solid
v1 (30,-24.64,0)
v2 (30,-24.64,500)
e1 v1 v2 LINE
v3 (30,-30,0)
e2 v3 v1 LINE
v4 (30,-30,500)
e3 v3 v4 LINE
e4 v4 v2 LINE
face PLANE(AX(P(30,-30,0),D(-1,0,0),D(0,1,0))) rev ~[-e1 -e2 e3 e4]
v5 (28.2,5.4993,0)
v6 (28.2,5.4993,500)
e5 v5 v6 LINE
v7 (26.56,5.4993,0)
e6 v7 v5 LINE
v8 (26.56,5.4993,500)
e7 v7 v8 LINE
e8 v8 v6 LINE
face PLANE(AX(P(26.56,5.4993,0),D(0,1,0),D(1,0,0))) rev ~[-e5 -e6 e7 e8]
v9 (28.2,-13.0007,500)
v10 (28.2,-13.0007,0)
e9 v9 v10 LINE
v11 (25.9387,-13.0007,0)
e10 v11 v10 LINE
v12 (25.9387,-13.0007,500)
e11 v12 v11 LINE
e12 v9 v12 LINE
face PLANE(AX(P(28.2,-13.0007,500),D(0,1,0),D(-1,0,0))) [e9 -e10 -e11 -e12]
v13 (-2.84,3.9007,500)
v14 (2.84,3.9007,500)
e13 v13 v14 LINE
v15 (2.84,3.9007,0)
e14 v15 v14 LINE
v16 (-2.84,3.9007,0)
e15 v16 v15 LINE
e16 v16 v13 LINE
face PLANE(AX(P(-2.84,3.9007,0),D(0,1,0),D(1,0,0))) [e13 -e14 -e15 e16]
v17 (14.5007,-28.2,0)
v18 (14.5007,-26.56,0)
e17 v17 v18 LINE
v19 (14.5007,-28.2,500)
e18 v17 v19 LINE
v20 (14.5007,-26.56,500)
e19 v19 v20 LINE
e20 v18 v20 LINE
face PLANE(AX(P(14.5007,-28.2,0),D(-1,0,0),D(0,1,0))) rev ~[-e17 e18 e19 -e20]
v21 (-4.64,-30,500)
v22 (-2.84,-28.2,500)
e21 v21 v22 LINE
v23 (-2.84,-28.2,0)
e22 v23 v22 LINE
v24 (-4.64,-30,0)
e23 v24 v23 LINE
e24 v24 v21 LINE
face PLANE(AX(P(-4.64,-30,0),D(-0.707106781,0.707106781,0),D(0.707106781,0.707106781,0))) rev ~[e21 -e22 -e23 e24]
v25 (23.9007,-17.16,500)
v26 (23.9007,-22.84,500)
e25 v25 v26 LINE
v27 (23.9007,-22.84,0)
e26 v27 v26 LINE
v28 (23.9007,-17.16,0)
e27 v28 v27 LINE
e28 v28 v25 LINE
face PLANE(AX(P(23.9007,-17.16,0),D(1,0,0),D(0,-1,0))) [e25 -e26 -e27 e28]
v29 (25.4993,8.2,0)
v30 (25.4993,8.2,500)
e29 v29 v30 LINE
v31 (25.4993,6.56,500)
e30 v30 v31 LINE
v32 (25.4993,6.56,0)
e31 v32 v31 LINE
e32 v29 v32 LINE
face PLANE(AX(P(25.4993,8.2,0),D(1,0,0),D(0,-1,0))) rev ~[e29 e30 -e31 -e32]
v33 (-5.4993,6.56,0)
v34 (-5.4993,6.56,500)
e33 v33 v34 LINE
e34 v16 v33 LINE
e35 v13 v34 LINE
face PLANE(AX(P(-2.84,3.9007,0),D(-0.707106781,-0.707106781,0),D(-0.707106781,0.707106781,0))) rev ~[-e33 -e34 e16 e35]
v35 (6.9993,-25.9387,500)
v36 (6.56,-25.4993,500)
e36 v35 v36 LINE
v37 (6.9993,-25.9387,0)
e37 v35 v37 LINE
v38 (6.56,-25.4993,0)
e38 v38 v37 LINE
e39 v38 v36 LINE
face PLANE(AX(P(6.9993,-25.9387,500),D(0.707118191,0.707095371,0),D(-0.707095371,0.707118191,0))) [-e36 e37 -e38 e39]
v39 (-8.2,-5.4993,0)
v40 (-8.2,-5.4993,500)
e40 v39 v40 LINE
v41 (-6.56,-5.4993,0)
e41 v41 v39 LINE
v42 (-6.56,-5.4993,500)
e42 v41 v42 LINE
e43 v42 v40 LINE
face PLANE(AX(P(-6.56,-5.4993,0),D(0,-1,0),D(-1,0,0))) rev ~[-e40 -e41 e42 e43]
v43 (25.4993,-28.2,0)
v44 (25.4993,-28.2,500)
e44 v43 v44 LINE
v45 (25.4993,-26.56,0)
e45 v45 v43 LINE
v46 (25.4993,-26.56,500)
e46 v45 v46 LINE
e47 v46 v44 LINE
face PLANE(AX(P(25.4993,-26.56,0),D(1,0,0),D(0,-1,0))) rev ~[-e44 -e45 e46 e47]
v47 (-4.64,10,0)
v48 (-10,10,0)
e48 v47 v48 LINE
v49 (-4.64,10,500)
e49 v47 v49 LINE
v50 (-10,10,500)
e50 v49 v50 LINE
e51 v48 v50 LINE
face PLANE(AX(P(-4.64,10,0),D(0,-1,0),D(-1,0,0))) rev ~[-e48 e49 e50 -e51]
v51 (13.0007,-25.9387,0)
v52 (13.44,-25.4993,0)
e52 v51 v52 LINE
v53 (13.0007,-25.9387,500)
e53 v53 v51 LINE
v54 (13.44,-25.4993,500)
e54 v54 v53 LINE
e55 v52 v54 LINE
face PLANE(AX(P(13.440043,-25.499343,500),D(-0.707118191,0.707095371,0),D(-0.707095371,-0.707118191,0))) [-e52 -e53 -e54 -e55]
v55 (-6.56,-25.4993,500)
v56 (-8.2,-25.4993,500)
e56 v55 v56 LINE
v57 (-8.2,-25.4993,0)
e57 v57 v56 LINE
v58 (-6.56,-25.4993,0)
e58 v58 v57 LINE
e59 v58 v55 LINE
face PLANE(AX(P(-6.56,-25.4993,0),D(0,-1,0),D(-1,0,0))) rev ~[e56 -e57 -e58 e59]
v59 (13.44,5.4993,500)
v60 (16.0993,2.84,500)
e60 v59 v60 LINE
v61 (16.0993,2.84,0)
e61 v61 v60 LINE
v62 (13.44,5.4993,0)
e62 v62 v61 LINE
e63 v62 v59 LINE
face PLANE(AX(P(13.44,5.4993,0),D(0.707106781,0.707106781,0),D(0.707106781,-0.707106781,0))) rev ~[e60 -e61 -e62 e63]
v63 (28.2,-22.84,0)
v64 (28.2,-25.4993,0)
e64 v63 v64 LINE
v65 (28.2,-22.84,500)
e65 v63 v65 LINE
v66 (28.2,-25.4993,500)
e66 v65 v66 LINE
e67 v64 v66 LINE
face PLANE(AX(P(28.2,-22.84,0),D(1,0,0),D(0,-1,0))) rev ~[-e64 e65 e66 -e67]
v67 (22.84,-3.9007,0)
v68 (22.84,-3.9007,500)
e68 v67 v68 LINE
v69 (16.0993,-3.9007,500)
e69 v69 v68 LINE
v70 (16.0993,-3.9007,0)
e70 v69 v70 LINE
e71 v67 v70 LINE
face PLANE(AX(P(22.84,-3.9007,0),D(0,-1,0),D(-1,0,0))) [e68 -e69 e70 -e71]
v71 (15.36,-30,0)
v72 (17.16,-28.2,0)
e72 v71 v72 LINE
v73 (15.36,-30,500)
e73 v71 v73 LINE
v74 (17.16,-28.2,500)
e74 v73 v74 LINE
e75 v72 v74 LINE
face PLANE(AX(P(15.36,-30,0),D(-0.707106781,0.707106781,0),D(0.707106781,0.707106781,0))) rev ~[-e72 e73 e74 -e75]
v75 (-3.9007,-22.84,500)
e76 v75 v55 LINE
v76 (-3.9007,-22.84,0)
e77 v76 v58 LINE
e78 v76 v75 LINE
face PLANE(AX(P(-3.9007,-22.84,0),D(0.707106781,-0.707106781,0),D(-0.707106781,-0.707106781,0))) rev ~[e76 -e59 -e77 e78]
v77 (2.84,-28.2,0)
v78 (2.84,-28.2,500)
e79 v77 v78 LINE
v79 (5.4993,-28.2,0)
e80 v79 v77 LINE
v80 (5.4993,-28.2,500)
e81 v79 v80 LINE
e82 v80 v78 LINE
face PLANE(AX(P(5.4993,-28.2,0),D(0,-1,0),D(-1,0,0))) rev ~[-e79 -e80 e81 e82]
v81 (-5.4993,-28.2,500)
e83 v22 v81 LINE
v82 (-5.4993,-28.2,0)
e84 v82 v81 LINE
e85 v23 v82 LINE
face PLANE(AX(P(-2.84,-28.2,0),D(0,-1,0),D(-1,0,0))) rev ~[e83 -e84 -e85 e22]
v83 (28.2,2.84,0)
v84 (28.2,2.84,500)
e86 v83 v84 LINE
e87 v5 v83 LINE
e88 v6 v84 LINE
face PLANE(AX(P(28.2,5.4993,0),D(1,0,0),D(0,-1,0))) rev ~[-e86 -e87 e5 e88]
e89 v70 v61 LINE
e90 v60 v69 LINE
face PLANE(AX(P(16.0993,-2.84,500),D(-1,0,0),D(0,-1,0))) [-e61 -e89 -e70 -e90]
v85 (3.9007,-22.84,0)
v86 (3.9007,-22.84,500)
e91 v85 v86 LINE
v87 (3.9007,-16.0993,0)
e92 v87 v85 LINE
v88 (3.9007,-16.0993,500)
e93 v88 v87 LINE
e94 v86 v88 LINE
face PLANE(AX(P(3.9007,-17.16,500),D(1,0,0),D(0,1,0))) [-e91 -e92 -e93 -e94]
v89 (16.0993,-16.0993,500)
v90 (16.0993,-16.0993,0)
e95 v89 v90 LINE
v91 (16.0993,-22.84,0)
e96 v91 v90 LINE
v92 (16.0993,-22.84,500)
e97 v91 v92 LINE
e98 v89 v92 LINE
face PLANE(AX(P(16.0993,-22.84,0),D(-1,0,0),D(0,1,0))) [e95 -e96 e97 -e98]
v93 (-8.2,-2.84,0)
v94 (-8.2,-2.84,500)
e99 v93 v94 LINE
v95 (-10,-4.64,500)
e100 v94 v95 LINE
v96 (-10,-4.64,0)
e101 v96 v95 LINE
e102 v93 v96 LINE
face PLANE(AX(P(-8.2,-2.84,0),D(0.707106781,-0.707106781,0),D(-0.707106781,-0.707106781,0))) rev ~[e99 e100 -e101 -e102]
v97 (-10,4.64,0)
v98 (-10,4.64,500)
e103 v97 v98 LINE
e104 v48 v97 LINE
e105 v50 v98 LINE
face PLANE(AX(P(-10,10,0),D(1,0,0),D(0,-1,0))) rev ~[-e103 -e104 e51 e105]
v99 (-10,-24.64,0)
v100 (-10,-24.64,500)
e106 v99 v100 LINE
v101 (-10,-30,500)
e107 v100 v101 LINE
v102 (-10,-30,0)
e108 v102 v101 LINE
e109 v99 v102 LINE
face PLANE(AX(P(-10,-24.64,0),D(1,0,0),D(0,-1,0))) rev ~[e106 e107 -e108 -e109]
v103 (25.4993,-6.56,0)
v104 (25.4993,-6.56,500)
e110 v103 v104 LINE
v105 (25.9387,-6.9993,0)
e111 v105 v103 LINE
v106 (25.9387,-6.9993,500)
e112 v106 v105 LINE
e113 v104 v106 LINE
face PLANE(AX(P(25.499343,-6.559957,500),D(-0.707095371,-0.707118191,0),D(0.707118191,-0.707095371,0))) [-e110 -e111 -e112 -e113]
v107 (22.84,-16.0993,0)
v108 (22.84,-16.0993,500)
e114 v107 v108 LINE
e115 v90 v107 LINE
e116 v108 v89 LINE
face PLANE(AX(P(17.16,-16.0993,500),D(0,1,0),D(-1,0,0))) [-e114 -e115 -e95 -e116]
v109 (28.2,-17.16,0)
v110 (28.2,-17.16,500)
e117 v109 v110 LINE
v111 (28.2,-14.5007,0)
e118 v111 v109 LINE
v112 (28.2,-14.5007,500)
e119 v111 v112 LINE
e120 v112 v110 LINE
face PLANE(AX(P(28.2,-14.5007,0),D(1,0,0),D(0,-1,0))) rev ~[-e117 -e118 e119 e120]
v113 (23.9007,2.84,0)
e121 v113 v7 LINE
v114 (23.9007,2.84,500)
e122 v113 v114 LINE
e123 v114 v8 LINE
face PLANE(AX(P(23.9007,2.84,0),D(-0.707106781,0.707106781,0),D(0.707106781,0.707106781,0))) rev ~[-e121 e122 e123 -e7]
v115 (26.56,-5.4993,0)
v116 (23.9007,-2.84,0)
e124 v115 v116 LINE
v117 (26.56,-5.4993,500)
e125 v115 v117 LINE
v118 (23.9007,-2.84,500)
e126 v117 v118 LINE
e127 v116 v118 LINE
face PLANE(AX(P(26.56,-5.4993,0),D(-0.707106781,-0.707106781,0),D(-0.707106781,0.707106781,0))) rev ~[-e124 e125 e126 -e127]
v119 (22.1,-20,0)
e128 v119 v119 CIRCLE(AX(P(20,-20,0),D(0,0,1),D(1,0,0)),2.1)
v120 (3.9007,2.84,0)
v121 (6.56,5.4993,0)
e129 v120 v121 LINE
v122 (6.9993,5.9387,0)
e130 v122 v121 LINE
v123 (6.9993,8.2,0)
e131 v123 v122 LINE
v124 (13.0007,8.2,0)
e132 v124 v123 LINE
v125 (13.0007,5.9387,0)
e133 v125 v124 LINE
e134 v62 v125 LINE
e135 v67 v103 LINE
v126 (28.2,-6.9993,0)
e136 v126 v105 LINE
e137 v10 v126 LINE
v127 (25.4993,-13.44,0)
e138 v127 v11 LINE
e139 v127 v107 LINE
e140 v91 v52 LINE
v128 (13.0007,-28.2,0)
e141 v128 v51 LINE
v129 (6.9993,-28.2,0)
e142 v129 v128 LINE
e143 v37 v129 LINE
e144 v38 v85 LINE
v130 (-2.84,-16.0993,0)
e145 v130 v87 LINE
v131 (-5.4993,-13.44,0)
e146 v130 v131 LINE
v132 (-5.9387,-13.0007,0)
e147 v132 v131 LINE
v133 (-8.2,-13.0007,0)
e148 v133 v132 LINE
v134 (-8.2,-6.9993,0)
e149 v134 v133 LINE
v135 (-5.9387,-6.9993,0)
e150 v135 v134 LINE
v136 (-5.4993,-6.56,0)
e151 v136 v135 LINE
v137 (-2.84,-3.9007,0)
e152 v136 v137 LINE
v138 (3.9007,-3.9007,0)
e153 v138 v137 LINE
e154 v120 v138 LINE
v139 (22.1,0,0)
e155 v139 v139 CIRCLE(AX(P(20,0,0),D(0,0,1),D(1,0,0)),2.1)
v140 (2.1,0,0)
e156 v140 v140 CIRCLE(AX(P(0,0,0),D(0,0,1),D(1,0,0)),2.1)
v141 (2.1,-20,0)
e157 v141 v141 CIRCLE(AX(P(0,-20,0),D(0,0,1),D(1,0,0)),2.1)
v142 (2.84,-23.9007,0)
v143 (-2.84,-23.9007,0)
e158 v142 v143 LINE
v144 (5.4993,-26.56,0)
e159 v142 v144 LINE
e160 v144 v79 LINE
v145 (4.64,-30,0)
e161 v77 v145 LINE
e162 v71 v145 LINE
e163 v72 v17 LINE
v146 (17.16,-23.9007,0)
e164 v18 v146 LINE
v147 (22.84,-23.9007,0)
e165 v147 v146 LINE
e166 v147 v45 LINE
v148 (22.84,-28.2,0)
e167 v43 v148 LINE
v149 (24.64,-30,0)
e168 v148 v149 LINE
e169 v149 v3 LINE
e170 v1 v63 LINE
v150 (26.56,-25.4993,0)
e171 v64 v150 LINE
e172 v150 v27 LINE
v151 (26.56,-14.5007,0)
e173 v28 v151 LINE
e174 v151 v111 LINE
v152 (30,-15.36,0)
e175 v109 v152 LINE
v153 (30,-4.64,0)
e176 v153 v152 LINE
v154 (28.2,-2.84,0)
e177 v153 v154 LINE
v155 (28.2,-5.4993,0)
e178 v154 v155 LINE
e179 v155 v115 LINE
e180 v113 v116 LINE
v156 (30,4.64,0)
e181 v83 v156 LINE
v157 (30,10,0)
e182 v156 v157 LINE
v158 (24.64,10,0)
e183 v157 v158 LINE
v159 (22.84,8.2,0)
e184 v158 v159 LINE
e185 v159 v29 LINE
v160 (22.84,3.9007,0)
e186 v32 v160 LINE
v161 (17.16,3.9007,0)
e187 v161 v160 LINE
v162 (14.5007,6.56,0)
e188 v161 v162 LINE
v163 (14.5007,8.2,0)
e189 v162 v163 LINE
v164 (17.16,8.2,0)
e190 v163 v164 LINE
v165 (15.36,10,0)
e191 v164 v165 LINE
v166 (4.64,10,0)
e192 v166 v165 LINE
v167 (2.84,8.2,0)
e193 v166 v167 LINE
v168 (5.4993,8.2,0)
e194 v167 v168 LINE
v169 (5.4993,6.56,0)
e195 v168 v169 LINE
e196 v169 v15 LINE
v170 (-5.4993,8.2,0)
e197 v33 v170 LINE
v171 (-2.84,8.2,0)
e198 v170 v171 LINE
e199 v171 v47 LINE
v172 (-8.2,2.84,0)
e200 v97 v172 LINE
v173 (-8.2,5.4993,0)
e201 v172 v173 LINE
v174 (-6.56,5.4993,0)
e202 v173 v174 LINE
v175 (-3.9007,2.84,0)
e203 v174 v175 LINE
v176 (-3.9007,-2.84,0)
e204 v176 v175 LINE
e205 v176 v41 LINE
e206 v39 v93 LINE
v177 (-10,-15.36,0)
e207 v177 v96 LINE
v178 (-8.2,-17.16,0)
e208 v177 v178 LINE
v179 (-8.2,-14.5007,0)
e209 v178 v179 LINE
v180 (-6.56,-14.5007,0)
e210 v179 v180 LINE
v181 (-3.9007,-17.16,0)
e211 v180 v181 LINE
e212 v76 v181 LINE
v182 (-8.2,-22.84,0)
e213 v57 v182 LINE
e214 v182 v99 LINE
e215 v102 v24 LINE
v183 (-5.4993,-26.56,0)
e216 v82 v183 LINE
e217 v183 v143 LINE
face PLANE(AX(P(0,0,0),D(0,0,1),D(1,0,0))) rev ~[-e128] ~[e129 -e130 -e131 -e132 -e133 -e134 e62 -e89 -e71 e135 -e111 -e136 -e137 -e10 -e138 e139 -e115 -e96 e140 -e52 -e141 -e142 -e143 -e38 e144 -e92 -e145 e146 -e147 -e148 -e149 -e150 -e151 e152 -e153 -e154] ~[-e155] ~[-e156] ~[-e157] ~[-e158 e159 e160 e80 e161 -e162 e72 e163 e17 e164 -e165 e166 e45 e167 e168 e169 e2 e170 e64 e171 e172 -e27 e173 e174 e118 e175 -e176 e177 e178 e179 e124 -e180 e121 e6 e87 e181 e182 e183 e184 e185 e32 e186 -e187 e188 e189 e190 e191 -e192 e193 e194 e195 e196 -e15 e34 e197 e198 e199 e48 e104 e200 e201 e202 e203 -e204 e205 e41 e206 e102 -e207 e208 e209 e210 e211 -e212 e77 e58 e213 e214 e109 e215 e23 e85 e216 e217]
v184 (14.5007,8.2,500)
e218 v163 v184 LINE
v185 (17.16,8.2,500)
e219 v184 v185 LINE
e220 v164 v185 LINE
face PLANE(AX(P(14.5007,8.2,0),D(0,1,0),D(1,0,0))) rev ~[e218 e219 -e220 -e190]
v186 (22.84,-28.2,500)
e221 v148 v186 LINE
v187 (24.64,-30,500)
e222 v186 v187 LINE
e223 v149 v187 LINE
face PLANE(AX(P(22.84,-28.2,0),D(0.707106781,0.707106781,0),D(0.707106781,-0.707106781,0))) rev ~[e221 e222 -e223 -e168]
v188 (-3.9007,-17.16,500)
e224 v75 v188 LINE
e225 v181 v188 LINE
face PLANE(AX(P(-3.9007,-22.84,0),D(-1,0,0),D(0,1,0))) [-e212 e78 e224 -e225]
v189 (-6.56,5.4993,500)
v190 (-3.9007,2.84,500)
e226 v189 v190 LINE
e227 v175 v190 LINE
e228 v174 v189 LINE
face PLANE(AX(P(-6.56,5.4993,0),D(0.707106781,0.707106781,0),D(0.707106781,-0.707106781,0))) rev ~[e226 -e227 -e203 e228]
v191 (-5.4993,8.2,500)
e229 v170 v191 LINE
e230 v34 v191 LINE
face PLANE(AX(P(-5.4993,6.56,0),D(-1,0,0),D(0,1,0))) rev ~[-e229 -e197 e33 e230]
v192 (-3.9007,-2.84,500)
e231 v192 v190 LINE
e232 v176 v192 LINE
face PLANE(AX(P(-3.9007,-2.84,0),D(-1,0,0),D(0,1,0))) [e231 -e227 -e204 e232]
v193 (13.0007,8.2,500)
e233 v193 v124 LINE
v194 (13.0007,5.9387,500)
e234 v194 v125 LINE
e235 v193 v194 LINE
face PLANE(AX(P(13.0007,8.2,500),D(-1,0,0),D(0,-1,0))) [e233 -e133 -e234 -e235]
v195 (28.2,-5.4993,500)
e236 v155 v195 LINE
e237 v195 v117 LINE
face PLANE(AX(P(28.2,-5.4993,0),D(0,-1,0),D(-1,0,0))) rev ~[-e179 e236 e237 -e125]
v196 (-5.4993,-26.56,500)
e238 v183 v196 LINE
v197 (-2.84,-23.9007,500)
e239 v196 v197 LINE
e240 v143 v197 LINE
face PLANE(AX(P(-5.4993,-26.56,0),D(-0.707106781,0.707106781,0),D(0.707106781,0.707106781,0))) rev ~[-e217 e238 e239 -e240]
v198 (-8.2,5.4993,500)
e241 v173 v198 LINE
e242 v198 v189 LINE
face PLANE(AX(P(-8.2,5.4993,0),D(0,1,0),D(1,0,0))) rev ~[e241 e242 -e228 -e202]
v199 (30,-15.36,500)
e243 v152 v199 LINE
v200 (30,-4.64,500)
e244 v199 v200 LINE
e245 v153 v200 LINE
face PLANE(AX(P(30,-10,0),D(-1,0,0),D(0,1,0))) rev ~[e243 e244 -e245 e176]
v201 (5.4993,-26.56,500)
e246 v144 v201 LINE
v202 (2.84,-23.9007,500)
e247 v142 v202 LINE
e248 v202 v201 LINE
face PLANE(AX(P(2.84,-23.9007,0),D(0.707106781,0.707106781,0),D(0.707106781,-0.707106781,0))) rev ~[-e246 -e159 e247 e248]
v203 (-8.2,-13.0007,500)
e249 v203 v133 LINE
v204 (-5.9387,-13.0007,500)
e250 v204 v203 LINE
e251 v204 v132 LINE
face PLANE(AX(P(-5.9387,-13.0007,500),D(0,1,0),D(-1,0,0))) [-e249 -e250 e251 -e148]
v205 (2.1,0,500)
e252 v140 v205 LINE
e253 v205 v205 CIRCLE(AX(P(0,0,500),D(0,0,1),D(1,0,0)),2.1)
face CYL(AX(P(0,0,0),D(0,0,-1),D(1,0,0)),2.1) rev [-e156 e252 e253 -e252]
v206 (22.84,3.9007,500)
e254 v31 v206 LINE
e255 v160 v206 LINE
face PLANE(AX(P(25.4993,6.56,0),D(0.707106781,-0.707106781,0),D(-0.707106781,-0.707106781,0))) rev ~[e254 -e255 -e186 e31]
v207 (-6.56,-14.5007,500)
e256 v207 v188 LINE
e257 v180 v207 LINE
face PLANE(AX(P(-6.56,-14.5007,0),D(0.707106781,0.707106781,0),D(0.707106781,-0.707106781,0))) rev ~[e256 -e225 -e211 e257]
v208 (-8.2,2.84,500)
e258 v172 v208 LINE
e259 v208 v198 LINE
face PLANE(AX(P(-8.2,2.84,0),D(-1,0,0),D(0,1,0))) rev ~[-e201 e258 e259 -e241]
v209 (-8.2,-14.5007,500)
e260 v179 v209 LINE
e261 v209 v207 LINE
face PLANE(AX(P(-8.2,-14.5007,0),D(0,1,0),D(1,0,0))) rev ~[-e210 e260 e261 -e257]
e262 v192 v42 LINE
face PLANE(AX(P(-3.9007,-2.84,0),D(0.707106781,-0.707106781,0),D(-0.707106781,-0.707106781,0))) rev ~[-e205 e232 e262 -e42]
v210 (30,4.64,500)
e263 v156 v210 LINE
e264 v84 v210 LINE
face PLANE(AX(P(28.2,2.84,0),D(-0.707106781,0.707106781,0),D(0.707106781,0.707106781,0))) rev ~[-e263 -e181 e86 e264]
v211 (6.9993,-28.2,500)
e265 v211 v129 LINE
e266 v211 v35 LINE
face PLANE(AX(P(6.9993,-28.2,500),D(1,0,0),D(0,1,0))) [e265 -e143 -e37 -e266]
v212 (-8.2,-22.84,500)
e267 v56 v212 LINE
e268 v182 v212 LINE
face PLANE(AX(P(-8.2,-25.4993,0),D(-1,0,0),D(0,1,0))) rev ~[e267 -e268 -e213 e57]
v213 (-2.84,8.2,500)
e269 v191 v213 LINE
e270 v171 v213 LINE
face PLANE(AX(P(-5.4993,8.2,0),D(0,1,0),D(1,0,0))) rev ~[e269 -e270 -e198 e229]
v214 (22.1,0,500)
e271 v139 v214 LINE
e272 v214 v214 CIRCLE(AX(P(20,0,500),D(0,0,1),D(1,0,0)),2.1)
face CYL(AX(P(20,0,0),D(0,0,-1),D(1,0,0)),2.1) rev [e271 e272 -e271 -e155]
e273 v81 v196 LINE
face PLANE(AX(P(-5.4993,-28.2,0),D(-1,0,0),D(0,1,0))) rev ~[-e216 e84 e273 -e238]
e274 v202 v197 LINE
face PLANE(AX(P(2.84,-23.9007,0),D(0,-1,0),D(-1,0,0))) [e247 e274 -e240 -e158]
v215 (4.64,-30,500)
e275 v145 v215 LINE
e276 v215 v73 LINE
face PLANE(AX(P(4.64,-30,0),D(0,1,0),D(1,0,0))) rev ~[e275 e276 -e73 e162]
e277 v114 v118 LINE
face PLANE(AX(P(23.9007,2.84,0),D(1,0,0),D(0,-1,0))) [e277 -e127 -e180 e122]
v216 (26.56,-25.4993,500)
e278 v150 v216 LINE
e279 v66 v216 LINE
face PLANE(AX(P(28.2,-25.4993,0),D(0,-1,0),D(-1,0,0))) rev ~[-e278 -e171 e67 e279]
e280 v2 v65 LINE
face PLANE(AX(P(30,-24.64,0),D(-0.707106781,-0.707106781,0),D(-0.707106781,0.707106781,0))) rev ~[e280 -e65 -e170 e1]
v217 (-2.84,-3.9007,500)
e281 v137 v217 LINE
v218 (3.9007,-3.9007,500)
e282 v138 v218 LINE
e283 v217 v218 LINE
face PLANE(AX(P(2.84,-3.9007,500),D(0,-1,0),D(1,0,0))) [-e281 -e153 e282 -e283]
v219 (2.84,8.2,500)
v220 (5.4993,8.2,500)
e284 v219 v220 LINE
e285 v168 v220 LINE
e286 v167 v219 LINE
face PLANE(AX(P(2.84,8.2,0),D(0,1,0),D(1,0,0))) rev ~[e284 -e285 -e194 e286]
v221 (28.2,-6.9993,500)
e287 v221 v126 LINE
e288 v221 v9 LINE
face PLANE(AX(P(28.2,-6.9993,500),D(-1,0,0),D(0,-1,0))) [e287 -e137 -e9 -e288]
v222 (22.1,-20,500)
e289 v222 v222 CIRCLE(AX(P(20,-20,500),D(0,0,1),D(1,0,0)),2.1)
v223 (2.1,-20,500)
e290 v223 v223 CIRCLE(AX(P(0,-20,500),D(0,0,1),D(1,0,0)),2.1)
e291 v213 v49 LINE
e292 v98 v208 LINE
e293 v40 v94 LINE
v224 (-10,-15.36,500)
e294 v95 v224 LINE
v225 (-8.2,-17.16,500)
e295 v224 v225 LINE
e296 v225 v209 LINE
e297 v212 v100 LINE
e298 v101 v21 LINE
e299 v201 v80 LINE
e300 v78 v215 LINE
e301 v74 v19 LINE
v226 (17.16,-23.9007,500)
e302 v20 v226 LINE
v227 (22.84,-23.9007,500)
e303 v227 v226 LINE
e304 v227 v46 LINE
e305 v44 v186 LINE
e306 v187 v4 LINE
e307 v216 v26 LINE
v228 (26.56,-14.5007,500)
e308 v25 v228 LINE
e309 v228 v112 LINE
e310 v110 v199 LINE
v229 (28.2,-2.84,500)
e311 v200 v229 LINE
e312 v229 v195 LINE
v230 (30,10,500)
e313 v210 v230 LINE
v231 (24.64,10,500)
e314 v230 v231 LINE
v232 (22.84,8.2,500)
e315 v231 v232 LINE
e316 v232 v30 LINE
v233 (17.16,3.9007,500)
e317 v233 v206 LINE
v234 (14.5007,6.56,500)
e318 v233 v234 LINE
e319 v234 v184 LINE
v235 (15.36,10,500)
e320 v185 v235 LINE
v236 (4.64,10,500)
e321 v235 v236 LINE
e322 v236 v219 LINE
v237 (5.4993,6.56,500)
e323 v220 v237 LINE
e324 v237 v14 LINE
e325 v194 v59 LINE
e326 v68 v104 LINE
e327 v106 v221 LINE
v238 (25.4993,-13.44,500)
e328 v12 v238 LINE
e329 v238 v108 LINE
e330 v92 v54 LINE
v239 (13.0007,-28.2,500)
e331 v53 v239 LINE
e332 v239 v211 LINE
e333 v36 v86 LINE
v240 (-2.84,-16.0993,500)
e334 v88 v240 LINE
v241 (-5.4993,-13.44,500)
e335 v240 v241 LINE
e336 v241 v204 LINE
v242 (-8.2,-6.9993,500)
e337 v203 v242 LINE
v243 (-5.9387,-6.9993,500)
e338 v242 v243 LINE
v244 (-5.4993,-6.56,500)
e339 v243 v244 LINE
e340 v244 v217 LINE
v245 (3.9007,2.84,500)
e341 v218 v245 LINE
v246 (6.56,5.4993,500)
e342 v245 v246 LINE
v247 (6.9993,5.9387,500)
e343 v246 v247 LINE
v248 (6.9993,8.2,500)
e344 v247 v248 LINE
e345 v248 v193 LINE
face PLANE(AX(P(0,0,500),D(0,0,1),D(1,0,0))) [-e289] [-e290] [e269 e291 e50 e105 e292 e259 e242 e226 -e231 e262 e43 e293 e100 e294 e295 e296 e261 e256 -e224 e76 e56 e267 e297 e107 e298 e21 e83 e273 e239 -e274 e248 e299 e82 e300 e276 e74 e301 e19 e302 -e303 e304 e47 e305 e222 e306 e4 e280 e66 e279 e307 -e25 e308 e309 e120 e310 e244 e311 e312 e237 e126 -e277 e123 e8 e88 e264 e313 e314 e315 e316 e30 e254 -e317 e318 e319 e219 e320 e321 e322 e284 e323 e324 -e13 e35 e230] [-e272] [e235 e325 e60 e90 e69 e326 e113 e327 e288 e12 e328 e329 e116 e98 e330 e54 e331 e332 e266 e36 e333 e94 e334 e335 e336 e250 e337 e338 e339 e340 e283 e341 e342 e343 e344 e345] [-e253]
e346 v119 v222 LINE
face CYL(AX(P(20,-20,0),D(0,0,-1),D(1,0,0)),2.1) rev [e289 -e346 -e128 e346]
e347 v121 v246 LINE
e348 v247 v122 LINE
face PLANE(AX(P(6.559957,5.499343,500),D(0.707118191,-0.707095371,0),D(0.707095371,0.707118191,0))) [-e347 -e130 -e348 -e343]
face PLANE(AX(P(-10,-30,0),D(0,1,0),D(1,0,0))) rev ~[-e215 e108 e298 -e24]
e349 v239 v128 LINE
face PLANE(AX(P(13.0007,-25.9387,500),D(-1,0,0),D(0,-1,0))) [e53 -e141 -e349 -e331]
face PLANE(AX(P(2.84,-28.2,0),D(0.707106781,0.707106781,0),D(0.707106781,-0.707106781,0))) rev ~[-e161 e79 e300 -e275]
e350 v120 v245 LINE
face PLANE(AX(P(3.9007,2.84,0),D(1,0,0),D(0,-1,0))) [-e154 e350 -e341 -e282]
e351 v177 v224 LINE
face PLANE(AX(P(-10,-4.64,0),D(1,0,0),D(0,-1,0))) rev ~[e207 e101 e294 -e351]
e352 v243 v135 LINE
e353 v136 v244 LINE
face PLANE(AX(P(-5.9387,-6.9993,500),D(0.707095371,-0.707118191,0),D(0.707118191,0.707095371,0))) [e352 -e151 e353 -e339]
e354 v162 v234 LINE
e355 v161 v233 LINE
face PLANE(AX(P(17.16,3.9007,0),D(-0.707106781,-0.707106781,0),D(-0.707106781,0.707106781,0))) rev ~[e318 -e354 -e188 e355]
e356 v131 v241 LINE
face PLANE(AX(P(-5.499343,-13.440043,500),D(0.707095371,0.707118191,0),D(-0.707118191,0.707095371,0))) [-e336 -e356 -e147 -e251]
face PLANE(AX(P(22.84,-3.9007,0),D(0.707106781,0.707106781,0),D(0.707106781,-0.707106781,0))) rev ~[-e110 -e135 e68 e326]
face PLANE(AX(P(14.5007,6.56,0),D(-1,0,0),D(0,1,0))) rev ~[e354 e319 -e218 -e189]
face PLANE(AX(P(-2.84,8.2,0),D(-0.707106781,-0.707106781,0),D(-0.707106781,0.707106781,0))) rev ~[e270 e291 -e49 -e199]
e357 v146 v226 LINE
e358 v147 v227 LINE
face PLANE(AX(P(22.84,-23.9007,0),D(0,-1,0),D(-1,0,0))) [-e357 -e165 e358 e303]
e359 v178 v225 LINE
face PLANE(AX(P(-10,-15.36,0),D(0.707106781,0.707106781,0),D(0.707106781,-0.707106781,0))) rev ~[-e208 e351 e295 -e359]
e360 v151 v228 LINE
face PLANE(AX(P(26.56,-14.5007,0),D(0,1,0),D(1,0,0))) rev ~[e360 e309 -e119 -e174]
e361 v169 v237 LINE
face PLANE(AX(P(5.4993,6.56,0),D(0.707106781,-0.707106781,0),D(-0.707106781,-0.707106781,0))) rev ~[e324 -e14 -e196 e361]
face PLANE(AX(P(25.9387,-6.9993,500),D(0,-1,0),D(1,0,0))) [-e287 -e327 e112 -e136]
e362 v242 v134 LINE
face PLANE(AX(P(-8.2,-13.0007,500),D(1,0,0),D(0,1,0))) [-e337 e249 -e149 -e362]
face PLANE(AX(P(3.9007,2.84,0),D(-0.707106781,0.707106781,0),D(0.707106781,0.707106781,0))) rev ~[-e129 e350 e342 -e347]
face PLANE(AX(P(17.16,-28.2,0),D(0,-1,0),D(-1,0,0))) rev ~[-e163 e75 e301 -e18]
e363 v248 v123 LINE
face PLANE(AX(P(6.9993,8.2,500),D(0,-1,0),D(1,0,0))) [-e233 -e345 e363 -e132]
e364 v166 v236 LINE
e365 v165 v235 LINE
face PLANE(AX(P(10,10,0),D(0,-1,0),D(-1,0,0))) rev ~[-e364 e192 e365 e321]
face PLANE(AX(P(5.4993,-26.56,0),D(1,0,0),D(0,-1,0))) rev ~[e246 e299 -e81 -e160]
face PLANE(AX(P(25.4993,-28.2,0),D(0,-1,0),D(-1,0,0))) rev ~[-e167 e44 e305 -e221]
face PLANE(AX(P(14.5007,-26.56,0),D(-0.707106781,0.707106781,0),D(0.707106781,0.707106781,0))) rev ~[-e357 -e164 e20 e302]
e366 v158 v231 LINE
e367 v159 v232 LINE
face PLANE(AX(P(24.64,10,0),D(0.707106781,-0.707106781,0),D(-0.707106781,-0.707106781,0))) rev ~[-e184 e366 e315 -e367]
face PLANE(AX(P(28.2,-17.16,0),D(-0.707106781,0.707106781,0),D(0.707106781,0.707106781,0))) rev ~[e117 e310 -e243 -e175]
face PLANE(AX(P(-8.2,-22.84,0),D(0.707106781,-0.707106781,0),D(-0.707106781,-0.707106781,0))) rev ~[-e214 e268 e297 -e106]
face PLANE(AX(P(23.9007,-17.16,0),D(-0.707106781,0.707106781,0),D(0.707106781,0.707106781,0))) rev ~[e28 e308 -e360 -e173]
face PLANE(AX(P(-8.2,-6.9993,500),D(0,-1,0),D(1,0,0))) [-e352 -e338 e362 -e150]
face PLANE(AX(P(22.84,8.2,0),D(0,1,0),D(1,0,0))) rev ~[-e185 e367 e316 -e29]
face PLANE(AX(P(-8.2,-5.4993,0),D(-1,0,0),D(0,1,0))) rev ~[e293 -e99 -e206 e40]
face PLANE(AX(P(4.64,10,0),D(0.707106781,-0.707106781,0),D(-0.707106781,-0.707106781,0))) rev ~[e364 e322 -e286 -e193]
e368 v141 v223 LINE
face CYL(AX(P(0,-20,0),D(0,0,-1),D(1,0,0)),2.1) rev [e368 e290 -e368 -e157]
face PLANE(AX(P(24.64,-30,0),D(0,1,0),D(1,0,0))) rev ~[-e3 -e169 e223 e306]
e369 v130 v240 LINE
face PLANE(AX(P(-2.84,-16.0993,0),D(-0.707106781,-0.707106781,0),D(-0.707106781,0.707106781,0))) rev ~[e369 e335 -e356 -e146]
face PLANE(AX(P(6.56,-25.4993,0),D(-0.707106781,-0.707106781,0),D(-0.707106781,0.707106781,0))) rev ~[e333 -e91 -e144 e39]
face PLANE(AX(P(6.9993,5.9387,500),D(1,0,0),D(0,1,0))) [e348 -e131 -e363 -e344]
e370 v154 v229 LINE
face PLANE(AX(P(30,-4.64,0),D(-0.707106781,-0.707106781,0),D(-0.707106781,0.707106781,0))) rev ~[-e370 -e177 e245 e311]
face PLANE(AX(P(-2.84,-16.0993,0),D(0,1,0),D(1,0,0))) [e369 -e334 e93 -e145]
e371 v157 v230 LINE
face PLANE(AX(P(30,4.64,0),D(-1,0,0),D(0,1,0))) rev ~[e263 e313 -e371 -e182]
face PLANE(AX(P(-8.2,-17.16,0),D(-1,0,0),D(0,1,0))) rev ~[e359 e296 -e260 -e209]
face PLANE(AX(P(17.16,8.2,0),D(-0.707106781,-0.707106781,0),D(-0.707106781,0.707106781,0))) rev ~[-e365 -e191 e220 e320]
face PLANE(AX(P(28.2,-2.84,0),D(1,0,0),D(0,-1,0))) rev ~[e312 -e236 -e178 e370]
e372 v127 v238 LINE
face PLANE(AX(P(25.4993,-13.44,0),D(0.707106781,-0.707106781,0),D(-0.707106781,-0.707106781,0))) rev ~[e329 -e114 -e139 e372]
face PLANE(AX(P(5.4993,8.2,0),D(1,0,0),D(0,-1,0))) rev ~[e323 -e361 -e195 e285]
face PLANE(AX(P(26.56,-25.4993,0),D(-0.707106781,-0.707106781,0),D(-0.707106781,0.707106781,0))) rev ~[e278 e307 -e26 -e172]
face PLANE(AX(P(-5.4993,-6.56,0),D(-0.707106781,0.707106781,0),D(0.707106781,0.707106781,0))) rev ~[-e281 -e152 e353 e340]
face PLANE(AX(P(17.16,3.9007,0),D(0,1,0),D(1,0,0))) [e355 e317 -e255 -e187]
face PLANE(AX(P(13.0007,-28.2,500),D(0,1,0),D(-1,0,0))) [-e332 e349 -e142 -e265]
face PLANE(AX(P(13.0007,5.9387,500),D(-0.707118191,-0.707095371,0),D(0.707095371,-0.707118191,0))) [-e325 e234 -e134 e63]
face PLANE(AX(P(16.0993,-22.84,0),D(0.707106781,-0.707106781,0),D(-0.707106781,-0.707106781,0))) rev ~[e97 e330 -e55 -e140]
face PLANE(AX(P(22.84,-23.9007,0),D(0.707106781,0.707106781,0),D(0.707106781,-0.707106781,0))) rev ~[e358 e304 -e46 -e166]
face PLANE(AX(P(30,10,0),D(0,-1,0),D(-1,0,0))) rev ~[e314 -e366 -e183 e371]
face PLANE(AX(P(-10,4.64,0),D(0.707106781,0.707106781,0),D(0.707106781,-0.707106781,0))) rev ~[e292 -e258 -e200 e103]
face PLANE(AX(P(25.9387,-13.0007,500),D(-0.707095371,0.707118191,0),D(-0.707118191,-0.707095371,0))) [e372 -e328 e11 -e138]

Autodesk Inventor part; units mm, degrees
ref_plane "YZ Plane" through (0, 0, 0) normal (1, 0, 0) x (0, 1, 0)
ref_plane "XZ Plane" through (0, 0, 0) normal (0, 1, 0) x (-1, 0, 0)
ref_plane "XY Plane" through (0, 0, 0) normal (0, 0, 1) x (1, 0, 0)
sketch "Sketch1" plane through (0, 0, 0) normal (0, 0, 1) x (1, 0, 0)
  line L0 (-3.9007, 3.9007) -> (3.9007, 3.9007)
  line L1 (3.9007, 3.9007) -> (3.9007, -3.9007)
  line L2 (3.9007, -3.9007) -> (-3.9007, -3.9007)
  line L3 (-3.9007, -3.9007) -> (-3.9007, 3.9007)
  line L4 (0, 3.9007) -> (0, -3.9007) construction
  line L5 (-3.9007, 0) -> (3.9007, 0) construction
  circle A0 centre (0, 0) radius 2.1
  line L6 (0, 0) -> (-16.1173, 16.1173) construction
  line L7 (0, 0) -> (22.7933, 0) construction
  line L8 (-2.84, 3.9007) -> (-5.4993, 6.56)
  line L9 (-5.4993, 6.56) -> (-5.4993, 8.2)
  line L10 (-5.4993, 8.2) -> (-2.84, 8.2)
  line L11 (-2.84, 8.2) -> (-4.64, 10)
  line L12 (-4.64, 10) -> (-10, 10)
  line L13 (-10, 10) -> (-10, 4.64)
  line L14 (-10, 4.64) -> (-8.2, 2.84)
  line L15 (-8.2, 2.84) -> (-8.2, 5.4993)
  line L16 (-8.2, 5.4993) -> (-6.56, 5.4993)
  line L17 (-6.56, 5.4993) -> (-3.9007, 2.84)
  line L18 (-3.9007, 2.84) -> (-11.3102, 2.84) construction
  line L19 (-2.84, 3.9007) -> (-3.9007, 3.9007)
  line L20 (-3.9007, 2.84) -> (-3.9007, 3.9007)
  line L21 (-3.9007, -2.84) -> (-6.56, -5.4993)
  line L22 (-6.56, -5.4993) -> (-8.2, -5.4993)
  line L23 (-8.2, -5.4993) -> (-8.2, -2.84)
  line L24 (-8.2, -2.84) -> (-10, -4.64)
  line L25 (-10, -4.64) -> (-10, -10)
  line L26 (-10, -10) -> (-4.64, -10)
  line L27 (-4.64, -10) -> (-2.84, -8.2)
  line L28 (-2.84, -8.2) -> (-5.4993, -8.2)
  line L29 (-5.4993, -8.2) -> (-5.4993, -6.56)
  line L30 (-5.4993, -6.56) -> (-2.84, -3.9007)
  line L31 (-3.9007, -2.84) -> (-3.9007, -3.9007)
  line L32 (-2.84, -3.9007) -> (-3.9007, -3.9007)
  line L33 (2.84, -3.9007) -> (5.4993, -6.56)
  line L34 (5.4993, -6.56) -> (5.4993, -8.2)
  line L35 (5.4993, -8.2) -> (2.84, -8.2)
  line L36 (2.84, -8.2) -> (4.64, -10)
  line L37 (4.64, -10) -> (10, -10)
  line L38 (10, -10) -> (10, -4.64)
  line L39 (10, -4.64) -> (8.2, -2.84)
  line L40 (8.2, -2.84) -> (8.2, -5.4993)
  line L41 (8.2, -5.4993) -> (6.56, -5.4993)
  line L42 (6.56, -5.4993) -> (3.9007, -2.84)
  line L43 (2.84, -3.9007) -> (3.9007, -3.9007)
  line L44 (3.9007, -2.84) -> (3.9007, -3.9007)
  line L45 (3.9007, 2.84) -> (6.56, 5.4993)
  line L46 (6.56, 5.4993) -> (8.2, 5.4993)
  line L47 (8.2, 5.4993) -> (8.2, 2.84)
  line L48 (8.2, 2.84) -> (10, 4.64)
  line L49 (10, 4.64) -> (10, 10)
  line L50 (10, 10) -> (4.64, 10)
  line L51 (4.64, 10) -> (2.84, 8.2)
  line L52 (2.84, 8.2) -> (5.4993, 8.2)
  line L53 (5.4993, 8.2) -> (5.4993, 6.56)
  line L54 (5.4993, 6.56) -> (2.84, 3.9007)
  line L55 (3.9007, 2.84) -> (3.9007, 3.9007)
  line L56 (2.84, 3.9007) -> (3.9007, 3.9007)
  dimension "d7" = 4.2
  dimension "d8" = 135
  dimension "d9" = 1.5
  dimension "d10" = 1.64
  dimension "d11" = 1.8
  dimension "d12" = 2.84
  dimension "d13" = 10
  dimension "d16" = 360
extrude "Extrusion1" add sketch "Sketch1" along normal blind 500
pattern_linear "Rectangular Pattern1" count 2 spacing 20 along (0, -1, 0) count 2 spacing 20 along (1, 0, 0) of "Extrusion1"
sketch "Sketch2" plane through (0, 0, 500) normal (0, 0, 1) x (1, 0, 0)
  line L0 (-6.56, -5.4993) -> (-8.2, -5.4993) projected
  line L1 (-8.2, -5.4993) -> (-8.2, -2.84) projected
  line L2 (-8.2, -14.5007) -> (-6.56, -14.5007) projected
  line L3 (5.4993, -11.8) -> (5.4993, -13.44) projected
  line L4 (-2.84, -16.0993) -> (-5.4993, -13.44) projected
  line L5 (-5.4993, -8.2) -> (-5.4993, -6.56) projected
  line L6 (-5.4993, -6.56) -> (-2.84, -3.9007) projected
  line L7 (2.84, -8.2) -> (4.64, -10) projected
  line L8 (-8.2, -6.9993) -> (-5.9387, -6.9993)
  line L9 (-5.9387, -6.9993) -> (-2.84, -3.9007)
  line L10 (-2.84, -3.9007) -> (12.9258, -3.9007)
  line L11 (12.9258, -16.0993) -> (-2.84, -16.0993)
  line L12 (-2.84, -16.0993) -> (-5.9387, -13.0007)
  line L13 (-5.9387, -13.0007) -> (-8.2, -13.0007)
  line L14 (-8.2, -13.0007) -> (-8.2, -6.9993)
  line L15 (2.84, -16.0993) -> (-2.84, -16.0993) projected
  line L16 (-2.84, -3.9007) -> (2.84, -3.9007) projected
  line L17 (12.9258, -16.0993) -> (12.9258, -3.9007)
  dimension "d23" = 1.5
  dimension "d26" = 1.5
extrude "Extrusion2" cut sketch "Sketch2" against normal up to next
ref_plane "Work Plane1" through (10, -15.36, 0) normal (1, 0, 0) x (0, 0, -1)
ref_plane "Work Plane2" through (4.64, -10, 500) normal (0, 1, 0) x (1, 0, 0)
pattern_circular "Circular Pattern1" count 4 over 360 about axis through (10, -10, 0) along (0, 0, 1) of "Extrusion2"
equation "\"d26\" = d23"
properties part number "40x40x500mm"
